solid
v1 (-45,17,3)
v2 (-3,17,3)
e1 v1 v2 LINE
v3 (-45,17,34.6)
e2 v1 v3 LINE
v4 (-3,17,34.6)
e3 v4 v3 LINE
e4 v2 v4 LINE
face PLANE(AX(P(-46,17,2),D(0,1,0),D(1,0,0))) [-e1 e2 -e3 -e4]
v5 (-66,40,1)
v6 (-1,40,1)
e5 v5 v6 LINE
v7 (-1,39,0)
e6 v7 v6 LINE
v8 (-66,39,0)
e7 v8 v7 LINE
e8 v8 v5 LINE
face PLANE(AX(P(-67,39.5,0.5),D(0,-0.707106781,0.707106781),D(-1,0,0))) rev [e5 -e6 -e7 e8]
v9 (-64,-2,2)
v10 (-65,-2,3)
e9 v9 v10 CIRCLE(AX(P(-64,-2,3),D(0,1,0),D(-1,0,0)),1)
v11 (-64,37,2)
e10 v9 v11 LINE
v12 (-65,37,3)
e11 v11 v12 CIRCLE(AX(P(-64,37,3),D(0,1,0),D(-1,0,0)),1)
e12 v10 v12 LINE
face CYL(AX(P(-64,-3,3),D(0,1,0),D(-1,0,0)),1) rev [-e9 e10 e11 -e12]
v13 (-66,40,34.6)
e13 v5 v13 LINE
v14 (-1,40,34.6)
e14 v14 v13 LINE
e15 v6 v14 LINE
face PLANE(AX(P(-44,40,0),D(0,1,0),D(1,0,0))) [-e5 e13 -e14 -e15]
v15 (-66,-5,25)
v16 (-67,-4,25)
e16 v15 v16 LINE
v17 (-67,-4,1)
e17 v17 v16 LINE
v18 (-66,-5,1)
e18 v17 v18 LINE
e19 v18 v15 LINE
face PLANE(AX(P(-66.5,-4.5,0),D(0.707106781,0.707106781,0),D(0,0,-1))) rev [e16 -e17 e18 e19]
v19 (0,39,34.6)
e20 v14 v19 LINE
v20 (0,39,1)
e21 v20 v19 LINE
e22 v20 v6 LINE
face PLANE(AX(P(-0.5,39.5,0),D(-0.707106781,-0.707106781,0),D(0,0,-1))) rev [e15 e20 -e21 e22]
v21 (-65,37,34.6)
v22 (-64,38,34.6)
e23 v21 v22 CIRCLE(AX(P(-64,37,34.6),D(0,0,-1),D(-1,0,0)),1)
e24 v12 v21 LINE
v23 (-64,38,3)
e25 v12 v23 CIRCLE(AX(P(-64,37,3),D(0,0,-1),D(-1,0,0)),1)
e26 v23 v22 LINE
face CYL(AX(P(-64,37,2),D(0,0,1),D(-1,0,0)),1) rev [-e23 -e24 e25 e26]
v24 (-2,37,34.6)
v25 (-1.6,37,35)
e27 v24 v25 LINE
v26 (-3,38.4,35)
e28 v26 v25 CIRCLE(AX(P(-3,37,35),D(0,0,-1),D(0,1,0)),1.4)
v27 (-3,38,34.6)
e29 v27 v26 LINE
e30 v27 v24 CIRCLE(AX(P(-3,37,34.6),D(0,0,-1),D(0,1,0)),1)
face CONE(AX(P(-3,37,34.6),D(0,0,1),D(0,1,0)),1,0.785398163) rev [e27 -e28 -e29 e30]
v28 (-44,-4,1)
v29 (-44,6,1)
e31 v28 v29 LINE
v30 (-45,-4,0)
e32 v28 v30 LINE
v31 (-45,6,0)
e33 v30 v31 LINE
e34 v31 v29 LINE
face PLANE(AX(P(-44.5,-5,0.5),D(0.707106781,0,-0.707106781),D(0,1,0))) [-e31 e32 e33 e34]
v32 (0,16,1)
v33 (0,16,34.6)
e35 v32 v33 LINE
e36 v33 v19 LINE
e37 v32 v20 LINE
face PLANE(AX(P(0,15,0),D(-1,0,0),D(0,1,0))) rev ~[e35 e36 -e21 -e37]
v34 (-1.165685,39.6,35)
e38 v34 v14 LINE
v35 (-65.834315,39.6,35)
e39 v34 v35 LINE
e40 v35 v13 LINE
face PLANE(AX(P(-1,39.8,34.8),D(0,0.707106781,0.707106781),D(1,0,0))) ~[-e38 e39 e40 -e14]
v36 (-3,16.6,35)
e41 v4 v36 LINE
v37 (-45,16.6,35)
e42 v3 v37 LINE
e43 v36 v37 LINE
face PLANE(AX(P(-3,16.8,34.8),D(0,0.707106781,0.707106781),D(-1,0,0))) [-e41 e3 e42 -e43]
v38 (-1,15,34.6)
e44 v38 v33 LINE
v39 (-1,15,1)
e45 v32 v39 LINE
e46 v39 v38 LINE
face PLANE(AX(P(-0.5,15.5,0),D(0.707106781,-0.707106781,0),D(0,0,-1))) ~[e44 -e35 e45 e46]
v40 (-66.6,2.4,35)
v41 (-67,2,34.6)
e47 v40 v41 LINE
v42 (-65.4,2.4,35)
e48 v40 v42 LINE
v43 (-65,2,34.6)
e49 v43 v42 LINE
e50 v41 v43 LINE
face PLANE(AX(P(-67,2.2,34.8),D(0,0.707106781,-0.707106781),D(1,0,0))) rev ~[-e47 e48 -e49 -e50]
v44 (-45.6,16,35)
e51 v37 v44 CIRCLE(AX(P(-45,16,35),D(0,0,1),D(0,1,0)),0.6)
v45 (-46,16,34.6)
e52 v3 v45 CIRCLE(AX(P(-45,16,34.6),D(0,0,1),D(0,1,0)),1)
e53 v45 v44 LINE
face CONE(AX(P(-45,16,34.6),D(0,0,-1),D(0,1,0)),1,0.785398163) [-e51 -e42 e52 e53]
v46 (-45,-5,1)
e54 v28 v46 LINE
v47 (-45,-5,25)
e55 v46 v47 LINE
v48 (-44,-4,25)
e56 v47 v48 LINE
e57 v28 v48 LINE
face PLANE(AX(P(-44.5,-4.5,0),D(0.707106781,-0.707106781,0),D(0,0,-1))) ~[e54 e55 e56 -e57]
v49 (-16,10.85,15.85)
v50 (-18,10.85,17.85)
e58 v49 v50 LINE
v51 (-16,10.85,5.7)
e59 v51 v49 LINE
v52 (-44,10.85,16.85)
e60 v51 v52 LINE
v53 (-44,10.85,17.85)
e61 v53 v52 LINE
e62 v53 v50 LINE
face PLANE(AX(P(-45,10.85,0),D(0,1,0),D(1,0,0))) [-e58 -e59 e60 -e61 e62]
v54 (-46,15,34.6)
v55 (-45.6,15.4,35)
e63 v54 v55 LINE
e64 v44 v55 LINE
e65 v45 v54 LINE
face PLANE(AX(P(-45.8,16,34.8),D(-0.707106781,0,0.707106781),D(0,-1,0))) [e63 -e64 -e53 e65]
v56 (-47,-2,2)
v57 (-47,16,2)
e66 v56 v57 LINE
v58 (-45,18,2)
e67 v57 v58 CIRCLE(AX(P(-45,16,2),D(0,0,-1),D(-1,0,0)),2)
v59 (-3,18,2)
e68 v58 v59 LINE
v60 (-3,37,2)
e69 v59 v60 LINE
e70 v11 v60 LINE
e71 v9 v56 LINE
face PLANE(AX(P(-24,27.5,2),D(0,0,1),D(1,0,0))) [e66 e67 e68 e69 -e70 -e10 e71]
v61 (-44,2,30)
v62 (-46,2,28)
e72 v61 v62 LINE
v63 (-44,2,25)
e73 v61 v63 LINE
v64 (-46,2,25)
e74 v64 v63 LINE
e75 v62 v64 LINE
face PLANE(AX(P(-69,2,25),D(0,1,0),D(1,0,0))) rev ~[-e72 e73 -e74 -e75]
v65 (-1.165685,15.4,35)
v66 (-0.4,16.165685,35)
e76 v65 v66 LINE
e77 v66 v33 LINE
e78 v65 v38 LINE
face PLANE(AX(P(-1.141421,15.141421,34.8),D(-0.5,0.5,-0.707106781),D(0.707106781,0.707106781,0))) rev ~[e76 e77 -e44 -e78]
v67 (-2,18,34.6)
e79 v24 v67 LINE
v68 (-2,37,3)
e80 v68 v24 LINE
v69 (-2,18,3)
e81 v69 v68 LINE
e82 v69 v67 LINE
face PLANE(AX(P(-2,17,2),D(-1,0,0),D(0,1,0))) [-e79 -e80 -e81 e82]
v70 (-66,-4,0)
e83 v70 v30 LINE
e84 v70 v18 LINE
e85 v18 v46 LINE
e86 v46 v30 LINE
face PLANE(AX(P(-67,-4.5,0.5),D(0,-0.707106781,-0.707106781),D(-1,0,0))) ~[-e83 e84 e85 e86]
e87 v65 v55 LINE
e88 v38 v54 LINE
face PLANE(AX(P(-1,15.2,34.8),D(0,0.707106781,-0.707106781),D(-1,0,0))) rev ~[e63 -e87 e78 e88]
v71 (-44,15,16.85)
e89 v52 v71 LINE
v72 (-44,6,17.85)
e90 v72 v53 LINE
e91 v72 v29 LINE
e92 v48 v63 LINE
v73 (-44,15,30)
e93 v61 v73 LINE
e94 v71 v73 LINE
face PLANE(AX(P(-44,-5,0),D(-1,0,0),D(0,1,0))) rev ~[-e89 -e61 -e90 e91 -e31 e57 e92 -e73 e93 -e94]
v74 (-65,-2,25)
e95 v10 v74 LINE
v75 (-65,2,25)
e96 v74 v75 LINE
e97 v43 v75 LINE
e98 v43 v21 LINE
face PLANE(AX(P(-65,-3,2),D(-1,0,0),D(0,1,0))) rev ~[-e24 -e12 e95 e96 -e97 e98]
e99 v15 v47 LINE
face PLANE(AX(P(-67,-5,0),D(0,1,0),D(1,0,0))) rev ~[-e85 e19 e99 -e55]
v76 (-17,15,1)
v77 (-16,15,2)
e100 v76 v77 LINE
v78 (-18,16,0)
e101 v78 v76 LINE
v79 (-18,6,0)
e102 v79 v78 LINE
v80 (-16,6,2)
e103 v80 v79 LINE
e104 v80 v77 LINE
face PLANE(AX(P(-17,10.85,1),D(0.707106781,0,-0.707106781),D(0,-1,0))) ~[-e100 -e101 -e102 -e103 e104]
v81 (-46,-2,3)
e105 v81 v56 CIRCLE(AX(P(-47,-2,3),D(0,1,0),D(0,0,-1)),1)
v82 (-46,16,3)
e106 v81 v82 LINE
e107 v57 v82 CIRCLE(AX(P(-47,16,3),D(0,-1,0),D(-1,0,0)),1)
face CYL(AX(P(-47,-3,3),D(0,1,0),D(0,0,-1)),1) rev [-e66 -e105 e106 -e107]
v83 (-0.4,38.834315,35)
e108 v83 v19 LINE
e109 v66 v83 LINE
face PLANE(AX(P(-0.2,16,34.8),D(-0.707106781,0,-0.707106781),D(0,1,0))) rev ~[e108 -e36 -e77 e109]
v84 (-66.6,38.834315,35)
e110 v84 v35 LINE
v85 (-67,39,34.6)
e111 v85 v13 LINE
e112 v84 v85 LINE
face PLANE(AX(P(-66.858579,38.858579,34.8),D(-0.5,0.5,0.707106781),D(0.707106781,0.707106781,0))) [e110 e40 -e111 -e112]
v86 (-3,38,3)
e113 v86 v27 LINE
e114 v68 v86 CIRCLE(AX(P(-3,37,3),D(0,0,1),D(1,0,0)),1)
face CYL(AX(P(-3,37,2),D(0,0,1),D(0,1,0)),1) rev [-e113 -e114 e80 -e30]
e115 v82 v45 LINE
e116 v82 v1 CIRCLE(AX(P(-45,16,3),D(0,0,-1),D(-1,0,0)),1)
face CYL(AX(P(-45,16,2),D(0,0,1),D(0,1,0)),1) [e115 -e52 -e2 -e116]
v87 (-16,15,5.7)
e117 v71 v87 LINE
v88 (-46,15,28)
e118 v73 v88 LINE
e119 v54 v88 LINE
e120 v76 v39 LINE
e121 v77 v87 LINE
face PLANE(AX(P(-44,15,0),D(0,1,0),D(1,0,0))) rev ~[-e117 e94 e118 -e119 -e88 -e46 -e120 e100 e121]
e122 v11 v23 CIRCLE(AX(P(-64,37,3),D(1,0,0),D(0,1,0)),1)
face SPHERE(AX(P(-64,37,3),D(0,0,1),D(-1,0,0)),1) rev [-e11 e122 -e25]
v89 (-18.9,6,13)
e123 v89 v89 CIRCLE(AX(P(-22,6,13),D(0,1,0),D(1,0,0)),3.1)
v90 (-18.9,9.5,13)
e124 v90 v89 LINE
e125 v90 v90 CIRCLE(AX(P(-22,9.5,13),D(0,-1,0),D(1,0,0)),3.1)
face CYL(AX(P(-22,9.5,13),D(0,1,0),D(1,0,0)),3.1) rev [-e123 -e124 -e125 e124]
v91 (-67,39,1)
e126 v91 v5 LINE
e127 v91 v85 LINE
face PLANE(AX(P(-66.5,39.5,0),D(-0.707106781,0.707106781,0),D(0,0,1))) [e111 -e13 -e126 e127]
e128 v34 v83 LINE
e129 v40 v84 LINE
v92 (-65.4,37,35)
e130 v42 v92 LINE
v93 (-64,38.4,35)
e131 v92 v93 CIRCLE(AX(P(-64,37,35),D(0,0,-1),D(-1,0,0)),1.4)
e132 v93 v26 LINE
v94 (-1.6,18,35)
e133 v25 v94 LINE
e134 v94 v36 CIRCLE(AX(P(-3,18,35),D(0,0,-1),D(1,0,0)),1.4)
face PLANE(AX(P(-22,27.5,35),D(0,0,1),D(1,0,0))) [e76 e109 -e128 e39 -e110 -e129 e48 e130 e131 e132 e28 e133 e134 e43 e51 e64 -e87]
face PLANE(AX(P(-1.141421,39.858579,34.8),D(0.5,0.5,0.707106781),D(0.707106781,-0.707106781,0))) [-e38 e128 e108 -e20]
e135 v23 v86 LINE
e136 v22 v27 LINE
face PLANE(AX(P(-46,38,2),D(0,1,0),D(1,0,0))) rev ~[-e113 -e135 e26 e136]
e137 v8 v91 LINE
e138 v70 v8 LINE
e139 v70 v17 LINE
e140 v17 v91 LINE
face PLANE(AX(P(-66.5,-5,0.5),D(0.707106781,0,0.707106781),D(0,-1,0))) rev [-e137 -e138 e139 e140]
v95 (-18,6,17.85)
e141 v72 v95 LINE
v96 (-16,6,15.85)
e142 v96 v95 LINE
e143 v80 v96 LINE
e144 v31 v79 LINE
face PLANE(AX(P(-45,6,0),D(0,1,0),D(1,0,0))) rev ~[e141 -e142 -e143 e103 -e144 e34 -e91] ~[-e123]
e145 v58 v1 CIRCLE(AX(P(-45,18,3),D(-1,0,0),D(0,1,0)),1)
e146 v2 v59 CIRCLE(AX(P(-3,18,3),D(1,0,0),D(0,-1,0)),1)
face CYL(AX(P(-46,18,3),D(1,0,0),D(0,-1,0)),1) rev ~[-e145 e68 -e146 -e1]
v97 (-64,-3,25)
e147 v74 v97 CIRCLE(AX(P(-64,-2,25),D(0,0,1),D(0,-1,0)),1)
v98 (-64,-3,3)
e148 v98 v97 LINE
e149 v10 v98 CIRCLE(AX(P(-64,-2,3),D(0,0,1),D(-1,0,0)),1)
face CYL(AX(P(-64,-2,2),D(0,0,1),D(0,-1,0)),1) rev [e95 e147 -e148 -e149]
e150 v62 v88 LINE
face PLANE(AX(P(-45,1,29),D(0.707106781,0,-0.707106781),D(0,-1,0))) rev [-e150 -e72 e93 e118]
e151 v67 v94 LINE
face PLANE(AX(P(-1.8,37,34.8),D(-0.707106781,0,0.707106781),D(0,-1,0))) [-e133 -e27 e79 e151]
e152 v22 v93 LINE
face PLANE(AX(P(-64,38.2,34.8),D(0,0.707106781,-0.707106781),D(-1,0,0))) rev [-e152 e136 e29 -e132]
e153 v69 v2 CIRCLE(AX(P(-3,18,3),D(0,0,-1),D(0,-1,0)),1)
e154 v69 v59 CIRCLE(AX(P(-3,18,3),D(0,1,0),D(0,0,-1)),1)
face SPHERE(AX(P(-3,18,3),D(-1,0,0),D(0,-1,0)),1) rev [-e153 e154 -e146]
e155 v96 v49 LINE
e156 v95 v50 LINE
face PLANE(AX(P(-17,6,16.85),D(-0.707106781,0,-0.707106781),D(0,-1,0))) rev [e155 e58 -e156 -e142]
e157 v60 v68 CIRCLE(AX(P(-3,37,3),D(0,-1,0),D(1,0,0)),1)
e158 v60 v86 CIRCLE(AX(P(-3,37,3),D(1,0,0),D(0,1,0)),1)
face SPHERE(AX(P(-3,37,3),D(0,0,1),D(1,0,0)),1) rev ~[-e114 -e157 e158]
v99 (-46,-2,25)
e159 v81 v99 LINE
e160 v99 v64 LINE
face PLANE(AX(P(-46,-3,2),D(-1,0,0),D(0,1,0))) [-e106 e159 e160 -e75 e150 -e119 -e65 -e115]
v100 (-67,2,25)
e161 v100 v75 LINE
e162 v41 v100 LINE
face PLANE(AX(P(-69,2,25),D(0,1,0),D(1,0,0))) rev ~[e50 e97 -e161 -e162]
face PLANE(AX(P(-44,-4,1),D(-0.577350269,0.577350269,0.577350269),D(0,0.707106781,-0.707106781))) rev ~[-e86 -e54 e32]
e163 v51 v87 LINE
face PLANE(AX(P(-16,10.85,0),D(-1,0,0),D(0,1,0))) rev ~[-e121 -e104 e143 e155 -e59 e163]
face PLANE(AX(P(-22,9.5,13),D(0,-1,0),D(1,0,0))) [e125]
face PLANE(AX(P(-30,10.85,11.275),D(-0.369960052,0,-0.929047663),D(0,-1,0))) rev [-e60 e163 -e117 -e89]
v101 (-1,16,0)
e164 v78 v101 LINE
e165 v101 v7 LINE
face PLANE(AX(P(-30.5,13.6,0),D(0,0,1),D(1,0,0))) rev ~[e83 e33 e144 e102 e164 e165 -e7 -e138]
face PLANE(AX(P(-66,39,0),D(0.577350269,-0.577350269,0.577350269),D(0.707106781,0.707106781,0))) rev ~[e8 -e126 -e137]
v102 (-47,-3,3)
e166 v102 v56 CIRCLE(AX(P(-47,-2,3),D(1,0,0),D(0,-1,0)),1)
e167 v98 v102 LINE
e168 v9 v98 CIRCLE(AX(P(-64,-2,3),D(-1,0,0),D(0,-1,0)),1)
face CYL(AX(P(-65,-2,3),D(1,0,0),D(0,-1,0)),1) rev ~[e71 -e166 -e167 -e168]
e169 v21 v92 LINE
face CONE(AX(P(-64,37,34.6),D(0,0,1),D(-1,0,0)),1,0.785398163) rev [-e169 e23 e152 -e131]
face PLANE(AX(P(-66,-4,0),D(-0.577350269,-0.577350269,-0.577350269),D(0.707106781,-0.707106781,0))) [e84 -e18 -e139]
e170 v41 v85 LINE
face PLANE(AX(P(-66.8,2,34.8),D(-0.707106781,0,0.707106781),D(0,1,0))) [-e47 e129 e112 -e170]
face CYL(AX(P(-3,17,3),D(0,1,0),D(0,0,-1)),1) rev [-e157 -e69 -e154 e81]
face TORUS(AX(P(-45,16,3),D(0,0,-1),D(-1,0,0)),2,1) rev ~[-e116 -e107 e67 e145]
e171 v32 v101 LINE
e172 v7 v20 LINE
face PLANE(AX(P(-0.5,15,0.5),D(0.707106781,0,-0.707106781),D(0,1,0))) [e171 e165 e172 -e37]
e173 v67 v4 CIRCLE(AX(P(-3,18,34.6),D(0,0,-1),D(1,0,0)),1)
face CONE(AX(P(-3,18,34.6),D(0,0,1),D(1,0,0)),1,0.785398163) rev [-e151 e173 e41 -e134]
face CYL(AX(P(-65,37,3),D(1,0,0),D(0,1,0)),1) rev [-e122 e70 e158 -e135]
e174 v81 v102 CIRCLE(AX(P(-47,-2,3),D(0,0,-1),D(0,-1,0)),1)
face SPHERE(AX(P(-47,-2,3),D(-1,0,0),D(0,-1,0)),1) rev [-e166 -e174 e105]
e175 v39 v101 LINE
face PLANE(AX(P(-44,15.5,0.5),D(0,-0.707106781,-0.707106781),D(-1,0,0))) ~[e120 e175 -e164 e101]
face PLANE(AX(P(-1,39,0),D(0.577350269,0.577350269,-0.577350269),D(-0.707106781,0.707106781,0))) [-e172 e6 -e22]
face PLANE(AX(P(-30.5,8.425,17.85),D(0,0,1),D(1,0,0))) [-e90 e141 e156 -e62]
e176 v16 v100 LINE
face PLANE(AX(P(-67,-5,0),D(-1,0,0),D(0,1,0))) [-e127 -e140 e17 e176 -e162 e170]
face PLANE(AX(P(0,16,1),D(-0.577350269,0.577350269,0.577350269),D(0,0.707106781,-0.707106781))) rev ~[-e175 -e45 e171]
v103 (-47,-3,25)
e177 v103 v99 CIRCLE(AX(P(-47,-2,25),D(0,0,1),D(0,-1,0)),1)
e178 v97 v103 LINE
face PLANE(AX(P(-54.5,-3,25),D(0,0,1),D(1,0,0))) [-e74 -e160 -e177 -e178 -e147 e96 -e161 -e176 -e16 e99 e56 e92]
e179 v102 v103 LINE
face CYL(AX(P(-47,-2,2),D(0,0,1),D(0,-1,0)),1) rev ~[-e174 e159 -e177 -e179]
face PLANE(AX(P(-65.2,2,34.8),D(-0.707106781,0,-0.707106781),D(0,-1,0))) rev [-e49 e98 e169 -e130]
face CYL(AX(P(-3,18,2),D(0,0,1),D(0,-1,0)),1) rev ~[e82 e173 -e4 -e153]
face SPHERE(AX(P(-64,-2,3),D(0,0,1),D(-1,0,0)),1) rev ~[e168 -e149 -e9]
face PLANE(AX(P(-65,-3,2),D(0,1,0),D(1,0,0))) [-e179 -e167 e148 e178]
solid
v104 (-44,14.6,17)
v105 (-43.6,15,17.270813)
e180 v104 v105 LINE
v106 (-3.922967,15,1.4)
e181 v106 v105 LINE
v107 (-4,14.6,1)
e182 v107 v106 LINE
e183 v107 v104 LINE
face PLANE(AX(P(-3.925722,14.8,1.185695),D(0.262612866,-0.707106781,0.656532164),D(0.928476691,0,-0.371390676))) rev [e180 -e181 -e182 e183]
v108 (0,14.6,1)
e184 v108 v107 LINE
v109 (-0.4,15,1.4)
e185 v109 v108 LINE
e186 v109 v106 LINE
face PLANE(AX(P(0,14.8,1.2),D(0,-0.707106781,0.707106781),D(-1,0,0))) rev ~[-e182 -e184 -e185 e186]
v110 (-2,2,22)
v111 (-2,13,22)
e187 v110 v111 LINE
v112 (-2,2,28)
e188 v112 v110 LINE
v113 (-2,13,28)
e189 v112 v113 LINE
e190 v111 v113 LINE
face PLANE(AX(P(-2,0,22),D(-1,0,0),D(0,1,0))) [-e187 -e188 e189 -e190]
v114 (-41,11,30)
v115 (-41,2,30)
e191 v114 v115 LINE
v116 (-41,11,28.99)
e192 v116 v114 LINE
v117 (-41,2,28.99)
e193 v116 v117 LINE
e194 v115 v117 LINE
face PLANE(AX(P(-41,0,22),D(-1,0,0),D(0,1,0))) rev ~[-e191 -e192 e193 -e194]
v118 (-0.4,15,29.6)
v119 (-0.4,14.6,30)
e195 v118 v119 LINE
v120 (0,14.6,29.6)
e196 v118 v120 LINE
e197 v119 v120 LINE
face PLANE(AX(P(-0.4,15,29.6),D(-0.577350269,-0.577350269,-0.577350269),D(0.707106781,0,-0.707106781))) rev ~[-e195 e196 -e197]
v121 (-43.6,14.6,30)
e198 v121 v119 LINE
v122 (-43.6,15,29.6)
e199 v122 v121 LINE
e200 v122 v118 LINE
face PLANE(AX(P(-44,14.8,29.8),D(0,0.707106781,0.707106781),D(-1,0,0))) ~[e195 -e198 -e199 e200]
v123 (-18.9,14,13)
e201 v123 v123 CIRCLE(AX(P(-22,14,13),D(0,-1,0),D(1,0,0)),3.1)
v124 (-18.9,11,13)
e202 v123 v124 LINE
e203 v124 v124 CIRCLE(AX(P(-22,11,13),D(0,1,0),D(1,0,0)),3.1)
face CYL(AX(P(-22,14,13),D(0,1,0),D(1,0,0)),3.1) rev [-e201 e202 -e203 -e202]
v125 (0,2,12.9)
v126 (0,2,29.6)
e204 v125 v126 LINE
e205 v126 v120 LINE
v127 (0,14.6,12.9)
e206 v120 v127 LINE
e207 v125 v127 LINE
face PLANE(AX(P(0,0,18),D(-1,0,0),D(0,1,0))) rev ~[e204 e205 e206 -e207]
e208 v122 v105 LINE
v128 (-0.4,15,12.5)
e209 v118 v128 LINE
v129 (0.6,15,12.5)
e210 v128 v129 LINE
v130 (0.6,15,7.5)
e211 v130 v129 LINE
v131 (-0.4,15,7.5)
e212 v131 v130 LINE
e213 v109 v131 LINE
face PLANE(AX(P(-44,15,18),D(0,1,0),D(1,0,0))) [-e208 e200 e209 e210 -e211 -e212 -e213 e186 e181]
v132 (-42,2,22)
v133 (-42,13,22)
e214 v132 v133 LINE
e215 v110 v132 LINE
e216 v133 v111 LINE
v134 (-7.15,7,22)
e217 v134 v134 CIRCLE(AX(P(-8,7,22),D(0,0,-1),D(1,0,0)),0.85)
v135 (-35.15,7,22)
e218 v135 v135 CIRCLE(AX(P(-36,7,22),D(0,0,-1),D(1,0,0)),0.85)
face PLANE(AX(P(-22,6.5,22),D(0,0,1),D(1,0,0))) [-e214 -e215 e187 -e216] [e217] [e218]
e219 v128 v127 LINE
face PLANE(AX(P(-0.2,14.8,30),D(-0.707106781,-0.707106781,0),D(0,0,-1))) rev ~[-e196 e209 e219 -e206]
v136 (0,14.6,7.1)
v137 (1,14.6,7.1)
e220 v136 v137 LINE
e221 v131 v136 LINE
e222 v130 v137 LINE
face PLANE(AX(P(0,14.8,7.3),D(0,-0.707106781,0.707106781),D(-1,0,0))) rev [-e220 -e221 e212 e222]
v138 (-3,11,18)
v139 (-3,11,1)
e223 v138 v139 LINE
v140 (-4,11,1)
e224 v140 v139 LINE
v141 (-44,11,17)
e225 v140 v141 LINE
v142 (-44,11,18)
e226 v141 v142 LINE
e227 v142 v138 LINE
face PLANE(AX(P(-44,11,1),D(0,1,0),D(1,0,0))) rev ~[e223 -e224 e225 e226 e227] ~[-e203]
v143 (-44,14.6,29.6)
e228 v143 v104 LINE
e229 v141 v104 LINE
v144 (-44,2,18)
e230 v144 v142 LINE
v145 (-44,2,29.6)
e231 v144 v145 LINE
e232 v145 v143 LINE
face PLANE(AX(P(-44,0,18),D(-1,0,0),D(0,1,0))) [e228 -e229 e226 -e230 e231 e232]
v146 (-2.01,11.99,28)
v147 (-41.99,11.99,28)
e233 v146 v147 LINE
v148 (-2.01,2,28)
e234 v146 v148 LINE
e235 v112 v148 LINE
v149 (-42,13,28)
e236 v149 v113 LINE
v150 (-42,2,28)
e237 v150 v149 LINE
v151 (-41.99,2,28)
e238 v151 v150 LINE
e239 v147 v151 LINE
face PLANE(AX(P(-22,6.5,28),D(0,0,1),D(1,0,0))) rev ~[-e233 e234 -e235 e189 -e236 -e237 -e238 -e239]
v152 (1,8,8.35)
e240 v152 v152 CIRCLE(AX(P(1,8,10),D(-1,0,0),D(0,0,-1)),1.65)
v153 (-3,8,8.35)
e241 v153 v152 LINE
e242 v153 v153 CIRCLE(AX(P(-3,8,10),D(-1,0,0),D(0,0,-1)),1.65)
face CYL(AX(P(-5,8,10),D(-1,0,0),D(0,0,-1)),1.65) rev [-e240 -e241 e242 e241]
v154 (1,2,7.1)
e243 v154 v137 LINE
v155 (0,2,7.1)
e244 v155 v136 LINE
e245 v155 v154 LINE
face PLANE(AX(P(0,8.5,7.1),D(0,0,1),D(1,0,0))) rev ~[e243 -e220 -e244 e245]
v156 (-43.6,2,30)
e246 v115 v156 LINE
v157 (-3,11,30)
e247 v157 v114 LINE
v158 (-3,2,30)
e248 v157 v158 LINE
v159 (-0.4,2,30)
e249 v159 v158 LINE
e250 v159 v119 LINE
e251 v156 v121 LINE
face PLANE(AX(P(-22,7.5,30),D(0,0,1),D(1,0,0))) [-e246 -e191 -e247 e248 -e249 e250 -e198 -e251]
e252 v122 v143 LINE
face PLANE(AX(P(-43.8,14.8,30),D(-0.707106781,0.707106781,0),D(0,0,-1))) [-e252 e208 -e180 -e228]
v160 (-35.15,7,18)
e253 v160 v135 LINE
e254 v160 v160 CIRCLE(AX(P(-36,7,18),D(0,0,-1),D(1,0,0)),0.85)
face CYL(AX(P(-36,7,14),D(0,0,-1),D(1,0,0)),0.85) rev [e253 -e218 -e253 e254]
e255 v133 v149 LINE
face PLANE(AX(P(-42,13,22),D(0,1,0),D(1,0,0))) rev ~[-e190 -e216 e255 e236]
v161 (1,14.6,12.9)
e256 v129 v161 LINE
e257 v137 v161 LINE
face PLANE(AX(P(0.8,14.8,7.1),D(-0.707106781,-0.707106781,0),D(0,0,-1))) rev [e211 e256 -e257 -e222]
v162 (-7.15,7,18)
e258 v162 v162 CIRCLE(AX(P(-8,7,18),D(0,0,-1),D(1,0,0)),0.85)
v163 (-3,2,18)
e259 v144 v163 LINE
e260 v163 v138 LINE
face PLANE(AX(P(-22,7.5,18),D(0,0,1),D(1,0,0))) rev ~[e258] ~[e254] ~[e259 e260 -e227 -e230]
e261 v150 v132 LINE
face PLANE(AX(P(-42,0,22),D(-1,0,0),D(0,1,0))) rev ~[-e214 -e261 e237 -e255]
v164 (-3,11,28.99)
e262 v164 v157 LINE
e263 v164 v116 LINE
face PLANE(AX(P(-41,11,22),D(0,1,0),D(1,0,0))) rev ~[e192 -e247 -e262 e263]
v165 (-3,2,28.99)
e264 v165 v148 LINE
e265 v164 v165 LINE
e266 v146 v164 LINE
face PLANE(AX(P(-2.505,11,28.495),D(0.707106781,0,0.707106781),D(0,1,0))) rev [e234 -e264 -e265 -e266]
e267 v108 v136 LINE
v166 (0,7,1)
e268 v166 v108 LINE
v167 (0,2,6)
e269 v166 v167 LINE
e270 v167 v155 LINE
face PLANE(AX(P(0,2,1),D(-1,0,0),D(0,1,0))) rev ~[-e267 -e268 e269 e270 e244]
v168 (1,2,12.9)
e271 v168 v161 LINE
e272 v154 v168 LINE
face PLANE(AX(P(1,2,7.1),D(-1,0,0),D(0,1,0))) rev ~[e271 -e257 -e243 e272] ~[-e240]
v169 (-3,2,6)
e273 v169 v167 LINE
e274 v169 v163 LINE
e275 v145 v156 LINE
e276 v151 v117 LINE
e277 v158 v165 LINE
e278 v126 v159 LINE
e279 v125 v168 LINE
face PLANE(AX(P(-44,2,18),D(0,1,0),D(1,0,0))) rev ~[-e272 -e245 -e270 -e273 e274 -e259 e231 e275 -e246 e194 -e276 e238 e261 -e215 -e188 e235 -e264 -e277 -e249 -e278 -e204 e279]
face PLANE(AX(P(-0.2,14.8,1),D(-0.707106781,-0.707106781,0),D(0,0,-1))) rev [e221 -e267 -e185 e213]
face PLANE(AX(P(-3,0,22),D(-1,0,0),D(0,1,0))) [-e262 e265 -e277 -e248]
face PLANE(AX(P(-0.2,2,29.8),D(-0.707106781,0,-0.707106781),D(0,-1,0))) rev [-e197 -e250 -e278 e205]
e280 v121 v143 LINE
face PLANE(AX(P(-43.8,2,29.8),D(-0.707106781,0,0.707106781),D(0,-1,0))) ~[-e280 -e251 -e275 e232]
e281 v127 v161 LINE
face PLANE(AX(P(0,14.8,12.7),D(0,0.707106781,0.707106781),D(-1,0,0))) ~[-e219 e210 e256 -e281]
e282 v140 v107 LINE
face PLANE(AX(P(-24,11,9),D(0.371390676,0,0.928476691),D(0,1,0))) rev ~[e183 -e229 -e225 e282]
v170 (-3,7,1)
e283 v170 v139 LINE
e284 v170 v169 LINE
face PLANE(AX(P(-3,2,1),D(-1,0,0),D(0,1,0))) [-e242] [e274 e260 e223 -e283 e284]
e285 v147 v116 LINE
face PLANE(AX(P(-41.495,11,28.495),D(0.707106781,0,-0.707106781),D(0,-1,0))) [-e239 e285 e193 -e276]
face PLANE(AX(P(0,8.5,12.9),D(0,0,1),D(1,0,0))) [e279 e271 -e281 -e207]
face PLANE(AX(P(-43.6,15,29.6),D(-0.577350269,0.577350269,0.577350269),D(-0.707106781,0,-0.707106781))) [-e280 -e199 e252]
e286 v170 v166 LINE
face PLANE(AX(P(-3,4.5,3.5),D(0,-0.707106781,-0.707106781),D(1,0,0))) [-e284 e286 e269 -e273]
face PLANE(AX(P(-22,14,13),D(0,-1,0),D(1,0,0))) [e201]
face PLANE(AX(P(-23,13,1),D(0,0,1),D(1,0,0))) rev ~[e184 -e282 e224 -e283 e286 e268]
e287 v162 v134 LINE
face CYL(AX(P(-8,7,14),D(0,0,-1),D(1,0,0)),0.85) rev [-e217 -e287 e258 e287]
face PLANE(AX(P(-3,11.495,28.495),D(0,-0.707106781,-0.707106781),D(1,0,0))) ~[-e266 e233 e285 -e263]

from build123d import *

# Parameters (mm, degrees)
CYLINDER008_R     = 0.85
CYLINDER008_DEPTH = 10
CYLINDER009_R     = 0.85
CYLINDER009_DEPTH = 10
CYLINDER007_R     = 3.1
CYLINDER007_DEPTH = 10
BOX027_W          = 48
BOX027_H          = 10
BOX027_DEPTH      = 19
BOX025_W          = 38
BOX025_H          = 11
BOX025_DEPTH      = 12
BOX026_W          = 40
BOX026_H          = 13
BOX026_DEPTH      = 6
BOX024_W          = 44
BOX024_H          = 15
BOX024_DEPTH      = 12
CHAMFER010_SIZE   = 0.99
CYLINDER004_R     = 1.65
CYLINDER004_DEPTH = 10
BOX029_W          = 2
BOX029_H          = 13
BOX029_DEPTH      = 5.8
BOX030_W          = 42
BOX030_H          = 4
BOX030_DEPTH      = 18
BOX028_W          = 3
BOX028_H          = 13
BOX028_DEPTH      = 18
CHAMFER011_SIZE2  = 16
CHAMFER011_SIZE   = 40
CHAMFER012_SIZE   = 5
CHAMFER013_SIZE   = 0.4
BOX037_W          = 29
BOX037_H          = 10
BOX037_DEPTH      = 10
BOX031_W          = 10
BOX031_H          = 14
BOX031_DEPTH      = 10
CHAMFER_SIZE      = 2
CYLINDER006_R     = 3.1
CYLINDER006_DEPTH = 10
BOX036_W          = 29
BOX036_H          = 5.5
BOX036_DEPTH      = 16.85
CHAMFER015_SIZE2  = 28
CHAMFER015_SIZE   = 11.15
CHAMFER018_SIZE   = 2
BOX035_W          = 29
BOX035_H          = 4.85
BOX035_DEPTH      = 17.85
CHAMFER016_SIZE   = 2
CHAMFER017_SIZE   = 2
BOX034_W          = 44
BOX034_H          = 21
BOX034_DEPTH      = 35
BOX033_W          = 19
BOX033_H          = 41
BOX033_DEPTH      = 35
FILLET_R          = 1
BOX032_W          = 44
BOX032_H          = 25
BOX032_DEPTH      = 35
BOX_W             = 23
BOX_H             = 45
BOX_DEPTH         = 35
CHAMFER014_SIZE   = 1
CHAMFER019_SIZE   = 0.4


with BuildPart() as cylinder008:
    # Cylinder008 → Cylinder008 (new body)
    with BuildSketch(Plane(origin=(-8, 7, 14), x_dir=(1, 0, 0), z_dir=(0, 0, 1))):
        Circle(CYLINDER008_R)
    extrude(amount=CYLINDER008_DEPTH)


with BuildPart() as fusion001008008003002:
    # Cylinder009 → Cylinder009 (new body)
    with BuildSketch(Plane(origin=(-36, 7, 14), x_dir=(1, 0, 0), z_dir=(0, 0, 1))):
        Circle(CYLINDER009_R)
    extrude(amount=CYLINDER009_DEPTH)

    # Fusion001008008003002: union Cylinder008
    add(cylinder008.part)


with BuildPart() as cylinder007:
    # Cylinder007 → Cylinder007 (new body)
    with BuildSketch(Plane(origin=(-22, 14, 13), x_dir=(1, 0, 0), z_dir=(0, -1, 0))):
        Circle(CYLINDER007_R)
    extrude(amount=CYLINDER007_DEPTH)


with BuildPart() as cube026:
    # Box027 → Box027 (new body)
    with BuildSketch(Plane(origin=(0, -8, 0), x_dir=(1, 0, 0), z_dir=(0, 0, 1))):
        with Locations((24, 5)):
            Rectangle(BOX027_W, BOX027_H)
    extrude(amount=BOX027_DEPTH)


with BuildPart() as cube024:
    # Box025 → Box025 (new body)
    with BuildSketch(Plane(origin=(3, 0, 4), x_dir=(1, 0, 0), z_dir=(0, 0, 1))):
        with Locations((19, 5.5)):
            Rectangle(BOX025_W, BOX025_H)
    extrude(amount=BOX025_DEPTH)


with BuildPart() as cube025:
    # Box026 → Box026 (new body)
    with BuildSketch(Plane(origin=(2, 0, 4), x_dir=(1, 0, 0), z_dir=(0, 0, 1))):
        with Locations((20, 6.5)):
            Rectangle(BOX026_W, BOX026_H)
    extrude(amount=BOX026_DEPTH)


with BuildPart() as cut010:
    # Box024 → Box024 (new body)
    with BuildSketch(Plane.XY):
        with Locations((22, 7.5)):
            Rectangle(BOX024_W, BOX024_H)
    extrude(amount=BOX024_DEPTH)

    # Cut008: cut Cube025
    add(cube025.part, mode=Mode.SUBTRACT)

    # Cut009: cut Cube024
    add(cube024.part, mode=Mode.SUBTRACT)

    # Chamfer010
    chamfer010_edges = [cut010.edges().sort_by_distance(p)[0] for p in [
        (41, 5.5, 10),
        (22, 11, 10),
        (3, 5.5, 10),
    ]]
    chamfer(chamfer010_edges, length=CHAMFER010_SIZE)

    # Cut010: cut Cube026
    add(cube026.part, mode=Mode.SUBTRACT)


with BuildPart() as cut010_1:
    # Cut010 placement: moved
    add(cut010.part.moved(Location((-44, 0, 18))))


with BuildPart() as cylinder004:
    # Cylinder004 → Cylinder004 (new body)
    with BuildSketch(Plane(origin=(-5, 8, 10), x_dir=(0, 0, -1), z_dir=(1, 0, 0))):
        Circle(CYLINDER004_R)
    extrude(amount=CYLINDER004_DEPTH)


with BuildPart() as cube028:
    # Box029 → Box029 (new body)
    with BuildSketch(Plane(origin=(-1, 2, 7.1), x_dir=(1, 0, 0), z_dir=(0, 0, 1))):
        with Locations((1, 6.5)):
            Rectangle(BOX029_W, BOX029_H)
    extrude(amount=BOX029_DEPTH)


with BuildPart() as cube029:
    # Box030 → Box030 (new body)
    with BuildSketch(Plane(origin=(-44, 11, 1), x_dir=(1, 0, 0), z_dir=(0, 0, 1))):
        with Locations((21, 2)):
            Rectangle(BOX030_W, BOX030_H)
    extrude(amount=BOX030_DEPTH)


with BuildPart() as cut013:
    # Box028 → Box028 (new body)
    with BuildSketch(Plane(origin=(-3, 2, 1), x_dir=(1, 0, 0), z_dir=(0, 0, 1))):
        with Locations((1.5, 6.5)):
            Rectangle(BOX028_W, BOX028_H)
    extrude(amount=BOX028_DEPTH)

    # Fusion001008008002: union Cube028, Cube029
    add(cube028.part)
    add(cube029.part)

    # Cut011: cut Cylinder004
    add(cylinder004.part, mode=Mode.SUBTRACT)

    # Chamfer011
    chamfer011_edges = [cut013.edges().sort_by_distance(p)[0] for p in [
        (-44, 13, 1),
    ]]
    chamfer011_side = cut013.faces().sort_by_distance((-23.5, 13, 1))[0]
    chamfer(chamfer011_edges, length=CHAMFER011_SIZE, length2=CHAMFER011_SIZE2, reference=chamfer011_side)

    # Chamfer012
    chamfer012_edges = [cut013.edges().sort_by_distance(p)[0] for p in [
        (-1.5, 2, 1),
    ]]
    chamfer(chamfer012_edges, length=CHAMFER012_SIZE)

    # Fusion001008008003: union Cut010
    add(cut010_1.part)

    # Chamfer013
    chamfer013_edges = [cut013.edges().sort_by_distance(p)[0] for p in [
        (0, 15, 4.05),
        (-24, 15, 9),
        (1, 15, 10),
        (0.5, 15, 7.1),
        (0.5, 15, 12.9),
        (0, 8.5, 30),
        (-44, 8.5, 30),
        (-22, 15, 30),
        (-2, 15, 1),
        (0, 15, 21.45),
        (-44, 15, 23.5),
    ]]
    chamfer(chamfer013_edges, length=CHAMFER013_SIZE)

    # Cut012: cut Cylinder007
    add(cylinder007.part, mode=Mode.SUBTRACT)

    # Cut013: cut Fusion001008008003002
    add(fusion001008008003002.part, mode=Mode.SUBTRACT)


with BuildPart() as cube036:
    # Box037 → Box037 (new body)
    with BuildSketch(Plane(origin=(-69, -8, 25), x_dir=(1, 0, 0), z_dir=(0, 0, 1))):
        with Locations((14.5, 5)):
            Rectangle(BOX037_W, BOX037_H)
    extrude(amount=BOX037_DEPTH)


with BuildPart() as chamfer_body:
    # Box031 → Box031 (new body)
    with BuildSketch(Plane(origin=(-51, 1, 30), x_dir=(1, 0, 0), z_dir=(0, 0, 1))):
        with Locations((5, 7)):
            Rectangle(BOX031_W, BOX031_H)
    extrude(amount=BOX031_DEPTH)

    # Chamfer
    chamfer_edges = [chamfer_body.edges().sort_by_distance(p)[0] for p in [
        (-41, 8, 30),
    ]]
    chamfer(chamfer_edges, length=CHAMFER_SIZE)


with BuildPart() as chamfer_body_1:
    # Chamfer placement: moved
    add(chamfer_body.part.moved(Location((-3, 0, -2))))


with BuildPart() as cylinder006:
    # Cylinder006 → Cylinder006 (new body)
    with BuildSketch(Plane(origin=(-22, 9.5, 13), x_dir=(1, 0, 0), z_dir=(0, -1, 0))):
        Circle(CYLINDER006_R)
    extrude(amount=CYLINDER006_DEPTH)


with BuildPart() as chamfer018:
    # Box036 → Box036 (new body)
    with BuildSketch(Plane(origin=(-45, 10.85, 0), x_dir=(1, 0, 0), z_dir=(0, 0, 1))):
        with Locations((14.5, 2.75)):
            Rectangle(BOX036_W, BOX036_H)
    extrude(amount=BOX036_DEPTH)

    # Chamfer015
    chamfer015_edges = [chamfer018.edges().sort_by_distance(p)[0] for p in [
        (-16, 13.6, 16.85),
    ]]
    chamfer015_side = chamfer018.faces().sort_by_distance((-16, 13.6, 8.425))[0]
    chamfer(chamfer015_edges, length=CHAMFER015_SIZE, length2=CHAMFER015_SIZE2, reference=chamfer015_side)

    # Chamfer018
    chamfer018_edges = [chamfer018.edges().sort_by_distance(p)[0] for p in [
        (-16, 13.6, 0),
    ]]
    chamfer(chamfer018_edges, length=CHAMFER018_SIZE)


with BuildPart() as cut014:
    # Box035 → Box035 (new body)
    with BuildSketch(Plane(origin=(-45, 6, 0), x_dir=(1, 0, 0), z_dir=(0, 0, 1))):
        with Locations((14.5, 2.425)):
            Rectangle(BOX035_W, BOX035_H)
    extrude(amount=BOX035_DEPTH)

    # Chamfer016
    chamfer016_edges = [cut014.edges().sort_by_distance(p)[0] for p in [
        (-16, 8.425, 17.85),
    ]]
    chamfer(chamfer016_edges, length=CHAMFER016_SIZE)

    # Chamfer017
    chamfer017_edges = [cut014.edges().sort_by_distance(p)[0] for p in [
        (-16, 8.425, 0),
    ]]
    chamfer(chamfer017_edges, length=CHAMFER017_SIZE)

    # Fusion001008008003003002: union Chamfer018
    add(chamfer018.part)

    # Cut014: cut Cylinder006
    add(cylinder006.part, mode=Mode.SUBTRACT)


with BuildPart() as cube033:
    # Box034 → Box034 (new body)
    with BuildSketch(Plane(origin=(-46, 17, 2), x_dir=(1, 0, 0), z_dir=(0, 0, 1))):
        with Locations((22, 10.5)):
            Rectangle(BOX034_W, BOX034_H)
    extrude(amount=BOX034_DEPTH)


with BuildPart() as fillet_body:
    # Box033 → Box033 (new body)
    with BuildSketch(Plane(origin=(-65, -3, 2), x_dir=(1, 0, 0), z_dir=(0, 0, 1))):
        with Locations((9.5, 20.5)):
            Rectangle(BOX033_W, BOX033_H)
    extrude(amount=BOX033_DEPTH)

    # Fusion: union Cube033
    add(cube033.part)

    # Fillet
    fillet_edges = [fillet_body.edges().sort_by_distance(p)[0] for p in [
        (-65, -3, 19.5),
        (-65, 38, 19.5),
        (-65, 17.5, 2),
        (-55.5, -3, 2),
        (-46, -3, 19.5),
        (-46, 17, 19.5),
        (-46, 7, 2),
        (-24, 17, 2),
        (-2, 17, 19.5),
        (-2, 38, 19.5),
        (-2, 27.5, 2),
        (-33.5, 38, 2),
    ]]
    fillet(fillet_edges, radius=FILLET_R)


with BuildPart() as cube031:
    # Box032 → Box032 (new body)
    with BuildSketch(Plane(origin=(-44, 15, 0), x_dir=(1, 0, 0), z_dir=(0, 0, 1))):
        with Locations((22, 12.5)):
            Rectangle(BOX032_W, BOX032_H)
    extrude(amount=BOX032_DEPTH)


with BuildPart() as chamfer019:
    # Box → Box (new body)
    with BuildSketch(Plane(origin=(-67, -5, 0), x_dir=(1, 0, 0), z_dir=(0, 0, 1))):
        with Locations((11.5, 22.5)):
            Rectangle(BOX_W, BOX_H)
    extrude(amount=BOX_DEPTH)

    # Fusion001008008003003: union Cube031
    add(cube031.part)

    # Chamfer014
    chamfer014_edges = [chamfer019.edges().sort_by_distance(p)[0] for p in [
        (-67, -5, 17.5),
        (-67, 40, 17.5),
        (-67, 17.5, 0),
        (-55.5, -5, 0),
        (-44, -5, 17.5),
        (-44, 5, 0),
        (-22, 15, 0),
        (0, 15, 17.5),
        (0, 40, 17.5),
        (0, 27.5, 0),
        (-33.5, 40, 0),
    ]]
    chamfer(chamfer014_edges, length=CHAMFER014_SIZE)

    # Cut: cut Fillet body
    add(fillet_body.part, mode=Mode.SUBTRACT)

    # Fusion001008008003003003: union Cut014
    add(cut014.part)

    # Cut015: cut Chamfer body
    add(chamfer_body_1.part, mode=Mode.SUBTRACT)

    # Cut016: cut Cube036
    add(cube036.part, mode=Mode.SUBTRACT)

    # Chamfer019
    chamfer019_edges = [chamfer019.edges().sort_by_distance(p)[0] for p in [
        (-67, 20.5, 35),
        (-66.5, 39.5, 35),
        (-33.5, 40, 35),
        (-0.5, 39.5, 35),
        (0, 27.5, 35),
        (-0.5, 15.5, 35),
        (-22.5, 15, 35),
        (-45, 15, 35),
        (-46, 15.5, 35),
        (-45.707107, 16.707107, 35),
        (-24, 17, 35),
        (-2.292893, 17.292893, 35),
        (-2, 27.5, 35),
        (-2.292893, 37.707107, 35),
        (-33.5, 38, 35),
        (-64.707107, 37.707107, 35),
        (-65, 19.5, 35),
        (-66, 2, 35),
    ]]
    chamfer(chamfer019_edges, length=CHAMFER019_SIZE)


solid = Compound([cut013.part, chamfer019.part])
